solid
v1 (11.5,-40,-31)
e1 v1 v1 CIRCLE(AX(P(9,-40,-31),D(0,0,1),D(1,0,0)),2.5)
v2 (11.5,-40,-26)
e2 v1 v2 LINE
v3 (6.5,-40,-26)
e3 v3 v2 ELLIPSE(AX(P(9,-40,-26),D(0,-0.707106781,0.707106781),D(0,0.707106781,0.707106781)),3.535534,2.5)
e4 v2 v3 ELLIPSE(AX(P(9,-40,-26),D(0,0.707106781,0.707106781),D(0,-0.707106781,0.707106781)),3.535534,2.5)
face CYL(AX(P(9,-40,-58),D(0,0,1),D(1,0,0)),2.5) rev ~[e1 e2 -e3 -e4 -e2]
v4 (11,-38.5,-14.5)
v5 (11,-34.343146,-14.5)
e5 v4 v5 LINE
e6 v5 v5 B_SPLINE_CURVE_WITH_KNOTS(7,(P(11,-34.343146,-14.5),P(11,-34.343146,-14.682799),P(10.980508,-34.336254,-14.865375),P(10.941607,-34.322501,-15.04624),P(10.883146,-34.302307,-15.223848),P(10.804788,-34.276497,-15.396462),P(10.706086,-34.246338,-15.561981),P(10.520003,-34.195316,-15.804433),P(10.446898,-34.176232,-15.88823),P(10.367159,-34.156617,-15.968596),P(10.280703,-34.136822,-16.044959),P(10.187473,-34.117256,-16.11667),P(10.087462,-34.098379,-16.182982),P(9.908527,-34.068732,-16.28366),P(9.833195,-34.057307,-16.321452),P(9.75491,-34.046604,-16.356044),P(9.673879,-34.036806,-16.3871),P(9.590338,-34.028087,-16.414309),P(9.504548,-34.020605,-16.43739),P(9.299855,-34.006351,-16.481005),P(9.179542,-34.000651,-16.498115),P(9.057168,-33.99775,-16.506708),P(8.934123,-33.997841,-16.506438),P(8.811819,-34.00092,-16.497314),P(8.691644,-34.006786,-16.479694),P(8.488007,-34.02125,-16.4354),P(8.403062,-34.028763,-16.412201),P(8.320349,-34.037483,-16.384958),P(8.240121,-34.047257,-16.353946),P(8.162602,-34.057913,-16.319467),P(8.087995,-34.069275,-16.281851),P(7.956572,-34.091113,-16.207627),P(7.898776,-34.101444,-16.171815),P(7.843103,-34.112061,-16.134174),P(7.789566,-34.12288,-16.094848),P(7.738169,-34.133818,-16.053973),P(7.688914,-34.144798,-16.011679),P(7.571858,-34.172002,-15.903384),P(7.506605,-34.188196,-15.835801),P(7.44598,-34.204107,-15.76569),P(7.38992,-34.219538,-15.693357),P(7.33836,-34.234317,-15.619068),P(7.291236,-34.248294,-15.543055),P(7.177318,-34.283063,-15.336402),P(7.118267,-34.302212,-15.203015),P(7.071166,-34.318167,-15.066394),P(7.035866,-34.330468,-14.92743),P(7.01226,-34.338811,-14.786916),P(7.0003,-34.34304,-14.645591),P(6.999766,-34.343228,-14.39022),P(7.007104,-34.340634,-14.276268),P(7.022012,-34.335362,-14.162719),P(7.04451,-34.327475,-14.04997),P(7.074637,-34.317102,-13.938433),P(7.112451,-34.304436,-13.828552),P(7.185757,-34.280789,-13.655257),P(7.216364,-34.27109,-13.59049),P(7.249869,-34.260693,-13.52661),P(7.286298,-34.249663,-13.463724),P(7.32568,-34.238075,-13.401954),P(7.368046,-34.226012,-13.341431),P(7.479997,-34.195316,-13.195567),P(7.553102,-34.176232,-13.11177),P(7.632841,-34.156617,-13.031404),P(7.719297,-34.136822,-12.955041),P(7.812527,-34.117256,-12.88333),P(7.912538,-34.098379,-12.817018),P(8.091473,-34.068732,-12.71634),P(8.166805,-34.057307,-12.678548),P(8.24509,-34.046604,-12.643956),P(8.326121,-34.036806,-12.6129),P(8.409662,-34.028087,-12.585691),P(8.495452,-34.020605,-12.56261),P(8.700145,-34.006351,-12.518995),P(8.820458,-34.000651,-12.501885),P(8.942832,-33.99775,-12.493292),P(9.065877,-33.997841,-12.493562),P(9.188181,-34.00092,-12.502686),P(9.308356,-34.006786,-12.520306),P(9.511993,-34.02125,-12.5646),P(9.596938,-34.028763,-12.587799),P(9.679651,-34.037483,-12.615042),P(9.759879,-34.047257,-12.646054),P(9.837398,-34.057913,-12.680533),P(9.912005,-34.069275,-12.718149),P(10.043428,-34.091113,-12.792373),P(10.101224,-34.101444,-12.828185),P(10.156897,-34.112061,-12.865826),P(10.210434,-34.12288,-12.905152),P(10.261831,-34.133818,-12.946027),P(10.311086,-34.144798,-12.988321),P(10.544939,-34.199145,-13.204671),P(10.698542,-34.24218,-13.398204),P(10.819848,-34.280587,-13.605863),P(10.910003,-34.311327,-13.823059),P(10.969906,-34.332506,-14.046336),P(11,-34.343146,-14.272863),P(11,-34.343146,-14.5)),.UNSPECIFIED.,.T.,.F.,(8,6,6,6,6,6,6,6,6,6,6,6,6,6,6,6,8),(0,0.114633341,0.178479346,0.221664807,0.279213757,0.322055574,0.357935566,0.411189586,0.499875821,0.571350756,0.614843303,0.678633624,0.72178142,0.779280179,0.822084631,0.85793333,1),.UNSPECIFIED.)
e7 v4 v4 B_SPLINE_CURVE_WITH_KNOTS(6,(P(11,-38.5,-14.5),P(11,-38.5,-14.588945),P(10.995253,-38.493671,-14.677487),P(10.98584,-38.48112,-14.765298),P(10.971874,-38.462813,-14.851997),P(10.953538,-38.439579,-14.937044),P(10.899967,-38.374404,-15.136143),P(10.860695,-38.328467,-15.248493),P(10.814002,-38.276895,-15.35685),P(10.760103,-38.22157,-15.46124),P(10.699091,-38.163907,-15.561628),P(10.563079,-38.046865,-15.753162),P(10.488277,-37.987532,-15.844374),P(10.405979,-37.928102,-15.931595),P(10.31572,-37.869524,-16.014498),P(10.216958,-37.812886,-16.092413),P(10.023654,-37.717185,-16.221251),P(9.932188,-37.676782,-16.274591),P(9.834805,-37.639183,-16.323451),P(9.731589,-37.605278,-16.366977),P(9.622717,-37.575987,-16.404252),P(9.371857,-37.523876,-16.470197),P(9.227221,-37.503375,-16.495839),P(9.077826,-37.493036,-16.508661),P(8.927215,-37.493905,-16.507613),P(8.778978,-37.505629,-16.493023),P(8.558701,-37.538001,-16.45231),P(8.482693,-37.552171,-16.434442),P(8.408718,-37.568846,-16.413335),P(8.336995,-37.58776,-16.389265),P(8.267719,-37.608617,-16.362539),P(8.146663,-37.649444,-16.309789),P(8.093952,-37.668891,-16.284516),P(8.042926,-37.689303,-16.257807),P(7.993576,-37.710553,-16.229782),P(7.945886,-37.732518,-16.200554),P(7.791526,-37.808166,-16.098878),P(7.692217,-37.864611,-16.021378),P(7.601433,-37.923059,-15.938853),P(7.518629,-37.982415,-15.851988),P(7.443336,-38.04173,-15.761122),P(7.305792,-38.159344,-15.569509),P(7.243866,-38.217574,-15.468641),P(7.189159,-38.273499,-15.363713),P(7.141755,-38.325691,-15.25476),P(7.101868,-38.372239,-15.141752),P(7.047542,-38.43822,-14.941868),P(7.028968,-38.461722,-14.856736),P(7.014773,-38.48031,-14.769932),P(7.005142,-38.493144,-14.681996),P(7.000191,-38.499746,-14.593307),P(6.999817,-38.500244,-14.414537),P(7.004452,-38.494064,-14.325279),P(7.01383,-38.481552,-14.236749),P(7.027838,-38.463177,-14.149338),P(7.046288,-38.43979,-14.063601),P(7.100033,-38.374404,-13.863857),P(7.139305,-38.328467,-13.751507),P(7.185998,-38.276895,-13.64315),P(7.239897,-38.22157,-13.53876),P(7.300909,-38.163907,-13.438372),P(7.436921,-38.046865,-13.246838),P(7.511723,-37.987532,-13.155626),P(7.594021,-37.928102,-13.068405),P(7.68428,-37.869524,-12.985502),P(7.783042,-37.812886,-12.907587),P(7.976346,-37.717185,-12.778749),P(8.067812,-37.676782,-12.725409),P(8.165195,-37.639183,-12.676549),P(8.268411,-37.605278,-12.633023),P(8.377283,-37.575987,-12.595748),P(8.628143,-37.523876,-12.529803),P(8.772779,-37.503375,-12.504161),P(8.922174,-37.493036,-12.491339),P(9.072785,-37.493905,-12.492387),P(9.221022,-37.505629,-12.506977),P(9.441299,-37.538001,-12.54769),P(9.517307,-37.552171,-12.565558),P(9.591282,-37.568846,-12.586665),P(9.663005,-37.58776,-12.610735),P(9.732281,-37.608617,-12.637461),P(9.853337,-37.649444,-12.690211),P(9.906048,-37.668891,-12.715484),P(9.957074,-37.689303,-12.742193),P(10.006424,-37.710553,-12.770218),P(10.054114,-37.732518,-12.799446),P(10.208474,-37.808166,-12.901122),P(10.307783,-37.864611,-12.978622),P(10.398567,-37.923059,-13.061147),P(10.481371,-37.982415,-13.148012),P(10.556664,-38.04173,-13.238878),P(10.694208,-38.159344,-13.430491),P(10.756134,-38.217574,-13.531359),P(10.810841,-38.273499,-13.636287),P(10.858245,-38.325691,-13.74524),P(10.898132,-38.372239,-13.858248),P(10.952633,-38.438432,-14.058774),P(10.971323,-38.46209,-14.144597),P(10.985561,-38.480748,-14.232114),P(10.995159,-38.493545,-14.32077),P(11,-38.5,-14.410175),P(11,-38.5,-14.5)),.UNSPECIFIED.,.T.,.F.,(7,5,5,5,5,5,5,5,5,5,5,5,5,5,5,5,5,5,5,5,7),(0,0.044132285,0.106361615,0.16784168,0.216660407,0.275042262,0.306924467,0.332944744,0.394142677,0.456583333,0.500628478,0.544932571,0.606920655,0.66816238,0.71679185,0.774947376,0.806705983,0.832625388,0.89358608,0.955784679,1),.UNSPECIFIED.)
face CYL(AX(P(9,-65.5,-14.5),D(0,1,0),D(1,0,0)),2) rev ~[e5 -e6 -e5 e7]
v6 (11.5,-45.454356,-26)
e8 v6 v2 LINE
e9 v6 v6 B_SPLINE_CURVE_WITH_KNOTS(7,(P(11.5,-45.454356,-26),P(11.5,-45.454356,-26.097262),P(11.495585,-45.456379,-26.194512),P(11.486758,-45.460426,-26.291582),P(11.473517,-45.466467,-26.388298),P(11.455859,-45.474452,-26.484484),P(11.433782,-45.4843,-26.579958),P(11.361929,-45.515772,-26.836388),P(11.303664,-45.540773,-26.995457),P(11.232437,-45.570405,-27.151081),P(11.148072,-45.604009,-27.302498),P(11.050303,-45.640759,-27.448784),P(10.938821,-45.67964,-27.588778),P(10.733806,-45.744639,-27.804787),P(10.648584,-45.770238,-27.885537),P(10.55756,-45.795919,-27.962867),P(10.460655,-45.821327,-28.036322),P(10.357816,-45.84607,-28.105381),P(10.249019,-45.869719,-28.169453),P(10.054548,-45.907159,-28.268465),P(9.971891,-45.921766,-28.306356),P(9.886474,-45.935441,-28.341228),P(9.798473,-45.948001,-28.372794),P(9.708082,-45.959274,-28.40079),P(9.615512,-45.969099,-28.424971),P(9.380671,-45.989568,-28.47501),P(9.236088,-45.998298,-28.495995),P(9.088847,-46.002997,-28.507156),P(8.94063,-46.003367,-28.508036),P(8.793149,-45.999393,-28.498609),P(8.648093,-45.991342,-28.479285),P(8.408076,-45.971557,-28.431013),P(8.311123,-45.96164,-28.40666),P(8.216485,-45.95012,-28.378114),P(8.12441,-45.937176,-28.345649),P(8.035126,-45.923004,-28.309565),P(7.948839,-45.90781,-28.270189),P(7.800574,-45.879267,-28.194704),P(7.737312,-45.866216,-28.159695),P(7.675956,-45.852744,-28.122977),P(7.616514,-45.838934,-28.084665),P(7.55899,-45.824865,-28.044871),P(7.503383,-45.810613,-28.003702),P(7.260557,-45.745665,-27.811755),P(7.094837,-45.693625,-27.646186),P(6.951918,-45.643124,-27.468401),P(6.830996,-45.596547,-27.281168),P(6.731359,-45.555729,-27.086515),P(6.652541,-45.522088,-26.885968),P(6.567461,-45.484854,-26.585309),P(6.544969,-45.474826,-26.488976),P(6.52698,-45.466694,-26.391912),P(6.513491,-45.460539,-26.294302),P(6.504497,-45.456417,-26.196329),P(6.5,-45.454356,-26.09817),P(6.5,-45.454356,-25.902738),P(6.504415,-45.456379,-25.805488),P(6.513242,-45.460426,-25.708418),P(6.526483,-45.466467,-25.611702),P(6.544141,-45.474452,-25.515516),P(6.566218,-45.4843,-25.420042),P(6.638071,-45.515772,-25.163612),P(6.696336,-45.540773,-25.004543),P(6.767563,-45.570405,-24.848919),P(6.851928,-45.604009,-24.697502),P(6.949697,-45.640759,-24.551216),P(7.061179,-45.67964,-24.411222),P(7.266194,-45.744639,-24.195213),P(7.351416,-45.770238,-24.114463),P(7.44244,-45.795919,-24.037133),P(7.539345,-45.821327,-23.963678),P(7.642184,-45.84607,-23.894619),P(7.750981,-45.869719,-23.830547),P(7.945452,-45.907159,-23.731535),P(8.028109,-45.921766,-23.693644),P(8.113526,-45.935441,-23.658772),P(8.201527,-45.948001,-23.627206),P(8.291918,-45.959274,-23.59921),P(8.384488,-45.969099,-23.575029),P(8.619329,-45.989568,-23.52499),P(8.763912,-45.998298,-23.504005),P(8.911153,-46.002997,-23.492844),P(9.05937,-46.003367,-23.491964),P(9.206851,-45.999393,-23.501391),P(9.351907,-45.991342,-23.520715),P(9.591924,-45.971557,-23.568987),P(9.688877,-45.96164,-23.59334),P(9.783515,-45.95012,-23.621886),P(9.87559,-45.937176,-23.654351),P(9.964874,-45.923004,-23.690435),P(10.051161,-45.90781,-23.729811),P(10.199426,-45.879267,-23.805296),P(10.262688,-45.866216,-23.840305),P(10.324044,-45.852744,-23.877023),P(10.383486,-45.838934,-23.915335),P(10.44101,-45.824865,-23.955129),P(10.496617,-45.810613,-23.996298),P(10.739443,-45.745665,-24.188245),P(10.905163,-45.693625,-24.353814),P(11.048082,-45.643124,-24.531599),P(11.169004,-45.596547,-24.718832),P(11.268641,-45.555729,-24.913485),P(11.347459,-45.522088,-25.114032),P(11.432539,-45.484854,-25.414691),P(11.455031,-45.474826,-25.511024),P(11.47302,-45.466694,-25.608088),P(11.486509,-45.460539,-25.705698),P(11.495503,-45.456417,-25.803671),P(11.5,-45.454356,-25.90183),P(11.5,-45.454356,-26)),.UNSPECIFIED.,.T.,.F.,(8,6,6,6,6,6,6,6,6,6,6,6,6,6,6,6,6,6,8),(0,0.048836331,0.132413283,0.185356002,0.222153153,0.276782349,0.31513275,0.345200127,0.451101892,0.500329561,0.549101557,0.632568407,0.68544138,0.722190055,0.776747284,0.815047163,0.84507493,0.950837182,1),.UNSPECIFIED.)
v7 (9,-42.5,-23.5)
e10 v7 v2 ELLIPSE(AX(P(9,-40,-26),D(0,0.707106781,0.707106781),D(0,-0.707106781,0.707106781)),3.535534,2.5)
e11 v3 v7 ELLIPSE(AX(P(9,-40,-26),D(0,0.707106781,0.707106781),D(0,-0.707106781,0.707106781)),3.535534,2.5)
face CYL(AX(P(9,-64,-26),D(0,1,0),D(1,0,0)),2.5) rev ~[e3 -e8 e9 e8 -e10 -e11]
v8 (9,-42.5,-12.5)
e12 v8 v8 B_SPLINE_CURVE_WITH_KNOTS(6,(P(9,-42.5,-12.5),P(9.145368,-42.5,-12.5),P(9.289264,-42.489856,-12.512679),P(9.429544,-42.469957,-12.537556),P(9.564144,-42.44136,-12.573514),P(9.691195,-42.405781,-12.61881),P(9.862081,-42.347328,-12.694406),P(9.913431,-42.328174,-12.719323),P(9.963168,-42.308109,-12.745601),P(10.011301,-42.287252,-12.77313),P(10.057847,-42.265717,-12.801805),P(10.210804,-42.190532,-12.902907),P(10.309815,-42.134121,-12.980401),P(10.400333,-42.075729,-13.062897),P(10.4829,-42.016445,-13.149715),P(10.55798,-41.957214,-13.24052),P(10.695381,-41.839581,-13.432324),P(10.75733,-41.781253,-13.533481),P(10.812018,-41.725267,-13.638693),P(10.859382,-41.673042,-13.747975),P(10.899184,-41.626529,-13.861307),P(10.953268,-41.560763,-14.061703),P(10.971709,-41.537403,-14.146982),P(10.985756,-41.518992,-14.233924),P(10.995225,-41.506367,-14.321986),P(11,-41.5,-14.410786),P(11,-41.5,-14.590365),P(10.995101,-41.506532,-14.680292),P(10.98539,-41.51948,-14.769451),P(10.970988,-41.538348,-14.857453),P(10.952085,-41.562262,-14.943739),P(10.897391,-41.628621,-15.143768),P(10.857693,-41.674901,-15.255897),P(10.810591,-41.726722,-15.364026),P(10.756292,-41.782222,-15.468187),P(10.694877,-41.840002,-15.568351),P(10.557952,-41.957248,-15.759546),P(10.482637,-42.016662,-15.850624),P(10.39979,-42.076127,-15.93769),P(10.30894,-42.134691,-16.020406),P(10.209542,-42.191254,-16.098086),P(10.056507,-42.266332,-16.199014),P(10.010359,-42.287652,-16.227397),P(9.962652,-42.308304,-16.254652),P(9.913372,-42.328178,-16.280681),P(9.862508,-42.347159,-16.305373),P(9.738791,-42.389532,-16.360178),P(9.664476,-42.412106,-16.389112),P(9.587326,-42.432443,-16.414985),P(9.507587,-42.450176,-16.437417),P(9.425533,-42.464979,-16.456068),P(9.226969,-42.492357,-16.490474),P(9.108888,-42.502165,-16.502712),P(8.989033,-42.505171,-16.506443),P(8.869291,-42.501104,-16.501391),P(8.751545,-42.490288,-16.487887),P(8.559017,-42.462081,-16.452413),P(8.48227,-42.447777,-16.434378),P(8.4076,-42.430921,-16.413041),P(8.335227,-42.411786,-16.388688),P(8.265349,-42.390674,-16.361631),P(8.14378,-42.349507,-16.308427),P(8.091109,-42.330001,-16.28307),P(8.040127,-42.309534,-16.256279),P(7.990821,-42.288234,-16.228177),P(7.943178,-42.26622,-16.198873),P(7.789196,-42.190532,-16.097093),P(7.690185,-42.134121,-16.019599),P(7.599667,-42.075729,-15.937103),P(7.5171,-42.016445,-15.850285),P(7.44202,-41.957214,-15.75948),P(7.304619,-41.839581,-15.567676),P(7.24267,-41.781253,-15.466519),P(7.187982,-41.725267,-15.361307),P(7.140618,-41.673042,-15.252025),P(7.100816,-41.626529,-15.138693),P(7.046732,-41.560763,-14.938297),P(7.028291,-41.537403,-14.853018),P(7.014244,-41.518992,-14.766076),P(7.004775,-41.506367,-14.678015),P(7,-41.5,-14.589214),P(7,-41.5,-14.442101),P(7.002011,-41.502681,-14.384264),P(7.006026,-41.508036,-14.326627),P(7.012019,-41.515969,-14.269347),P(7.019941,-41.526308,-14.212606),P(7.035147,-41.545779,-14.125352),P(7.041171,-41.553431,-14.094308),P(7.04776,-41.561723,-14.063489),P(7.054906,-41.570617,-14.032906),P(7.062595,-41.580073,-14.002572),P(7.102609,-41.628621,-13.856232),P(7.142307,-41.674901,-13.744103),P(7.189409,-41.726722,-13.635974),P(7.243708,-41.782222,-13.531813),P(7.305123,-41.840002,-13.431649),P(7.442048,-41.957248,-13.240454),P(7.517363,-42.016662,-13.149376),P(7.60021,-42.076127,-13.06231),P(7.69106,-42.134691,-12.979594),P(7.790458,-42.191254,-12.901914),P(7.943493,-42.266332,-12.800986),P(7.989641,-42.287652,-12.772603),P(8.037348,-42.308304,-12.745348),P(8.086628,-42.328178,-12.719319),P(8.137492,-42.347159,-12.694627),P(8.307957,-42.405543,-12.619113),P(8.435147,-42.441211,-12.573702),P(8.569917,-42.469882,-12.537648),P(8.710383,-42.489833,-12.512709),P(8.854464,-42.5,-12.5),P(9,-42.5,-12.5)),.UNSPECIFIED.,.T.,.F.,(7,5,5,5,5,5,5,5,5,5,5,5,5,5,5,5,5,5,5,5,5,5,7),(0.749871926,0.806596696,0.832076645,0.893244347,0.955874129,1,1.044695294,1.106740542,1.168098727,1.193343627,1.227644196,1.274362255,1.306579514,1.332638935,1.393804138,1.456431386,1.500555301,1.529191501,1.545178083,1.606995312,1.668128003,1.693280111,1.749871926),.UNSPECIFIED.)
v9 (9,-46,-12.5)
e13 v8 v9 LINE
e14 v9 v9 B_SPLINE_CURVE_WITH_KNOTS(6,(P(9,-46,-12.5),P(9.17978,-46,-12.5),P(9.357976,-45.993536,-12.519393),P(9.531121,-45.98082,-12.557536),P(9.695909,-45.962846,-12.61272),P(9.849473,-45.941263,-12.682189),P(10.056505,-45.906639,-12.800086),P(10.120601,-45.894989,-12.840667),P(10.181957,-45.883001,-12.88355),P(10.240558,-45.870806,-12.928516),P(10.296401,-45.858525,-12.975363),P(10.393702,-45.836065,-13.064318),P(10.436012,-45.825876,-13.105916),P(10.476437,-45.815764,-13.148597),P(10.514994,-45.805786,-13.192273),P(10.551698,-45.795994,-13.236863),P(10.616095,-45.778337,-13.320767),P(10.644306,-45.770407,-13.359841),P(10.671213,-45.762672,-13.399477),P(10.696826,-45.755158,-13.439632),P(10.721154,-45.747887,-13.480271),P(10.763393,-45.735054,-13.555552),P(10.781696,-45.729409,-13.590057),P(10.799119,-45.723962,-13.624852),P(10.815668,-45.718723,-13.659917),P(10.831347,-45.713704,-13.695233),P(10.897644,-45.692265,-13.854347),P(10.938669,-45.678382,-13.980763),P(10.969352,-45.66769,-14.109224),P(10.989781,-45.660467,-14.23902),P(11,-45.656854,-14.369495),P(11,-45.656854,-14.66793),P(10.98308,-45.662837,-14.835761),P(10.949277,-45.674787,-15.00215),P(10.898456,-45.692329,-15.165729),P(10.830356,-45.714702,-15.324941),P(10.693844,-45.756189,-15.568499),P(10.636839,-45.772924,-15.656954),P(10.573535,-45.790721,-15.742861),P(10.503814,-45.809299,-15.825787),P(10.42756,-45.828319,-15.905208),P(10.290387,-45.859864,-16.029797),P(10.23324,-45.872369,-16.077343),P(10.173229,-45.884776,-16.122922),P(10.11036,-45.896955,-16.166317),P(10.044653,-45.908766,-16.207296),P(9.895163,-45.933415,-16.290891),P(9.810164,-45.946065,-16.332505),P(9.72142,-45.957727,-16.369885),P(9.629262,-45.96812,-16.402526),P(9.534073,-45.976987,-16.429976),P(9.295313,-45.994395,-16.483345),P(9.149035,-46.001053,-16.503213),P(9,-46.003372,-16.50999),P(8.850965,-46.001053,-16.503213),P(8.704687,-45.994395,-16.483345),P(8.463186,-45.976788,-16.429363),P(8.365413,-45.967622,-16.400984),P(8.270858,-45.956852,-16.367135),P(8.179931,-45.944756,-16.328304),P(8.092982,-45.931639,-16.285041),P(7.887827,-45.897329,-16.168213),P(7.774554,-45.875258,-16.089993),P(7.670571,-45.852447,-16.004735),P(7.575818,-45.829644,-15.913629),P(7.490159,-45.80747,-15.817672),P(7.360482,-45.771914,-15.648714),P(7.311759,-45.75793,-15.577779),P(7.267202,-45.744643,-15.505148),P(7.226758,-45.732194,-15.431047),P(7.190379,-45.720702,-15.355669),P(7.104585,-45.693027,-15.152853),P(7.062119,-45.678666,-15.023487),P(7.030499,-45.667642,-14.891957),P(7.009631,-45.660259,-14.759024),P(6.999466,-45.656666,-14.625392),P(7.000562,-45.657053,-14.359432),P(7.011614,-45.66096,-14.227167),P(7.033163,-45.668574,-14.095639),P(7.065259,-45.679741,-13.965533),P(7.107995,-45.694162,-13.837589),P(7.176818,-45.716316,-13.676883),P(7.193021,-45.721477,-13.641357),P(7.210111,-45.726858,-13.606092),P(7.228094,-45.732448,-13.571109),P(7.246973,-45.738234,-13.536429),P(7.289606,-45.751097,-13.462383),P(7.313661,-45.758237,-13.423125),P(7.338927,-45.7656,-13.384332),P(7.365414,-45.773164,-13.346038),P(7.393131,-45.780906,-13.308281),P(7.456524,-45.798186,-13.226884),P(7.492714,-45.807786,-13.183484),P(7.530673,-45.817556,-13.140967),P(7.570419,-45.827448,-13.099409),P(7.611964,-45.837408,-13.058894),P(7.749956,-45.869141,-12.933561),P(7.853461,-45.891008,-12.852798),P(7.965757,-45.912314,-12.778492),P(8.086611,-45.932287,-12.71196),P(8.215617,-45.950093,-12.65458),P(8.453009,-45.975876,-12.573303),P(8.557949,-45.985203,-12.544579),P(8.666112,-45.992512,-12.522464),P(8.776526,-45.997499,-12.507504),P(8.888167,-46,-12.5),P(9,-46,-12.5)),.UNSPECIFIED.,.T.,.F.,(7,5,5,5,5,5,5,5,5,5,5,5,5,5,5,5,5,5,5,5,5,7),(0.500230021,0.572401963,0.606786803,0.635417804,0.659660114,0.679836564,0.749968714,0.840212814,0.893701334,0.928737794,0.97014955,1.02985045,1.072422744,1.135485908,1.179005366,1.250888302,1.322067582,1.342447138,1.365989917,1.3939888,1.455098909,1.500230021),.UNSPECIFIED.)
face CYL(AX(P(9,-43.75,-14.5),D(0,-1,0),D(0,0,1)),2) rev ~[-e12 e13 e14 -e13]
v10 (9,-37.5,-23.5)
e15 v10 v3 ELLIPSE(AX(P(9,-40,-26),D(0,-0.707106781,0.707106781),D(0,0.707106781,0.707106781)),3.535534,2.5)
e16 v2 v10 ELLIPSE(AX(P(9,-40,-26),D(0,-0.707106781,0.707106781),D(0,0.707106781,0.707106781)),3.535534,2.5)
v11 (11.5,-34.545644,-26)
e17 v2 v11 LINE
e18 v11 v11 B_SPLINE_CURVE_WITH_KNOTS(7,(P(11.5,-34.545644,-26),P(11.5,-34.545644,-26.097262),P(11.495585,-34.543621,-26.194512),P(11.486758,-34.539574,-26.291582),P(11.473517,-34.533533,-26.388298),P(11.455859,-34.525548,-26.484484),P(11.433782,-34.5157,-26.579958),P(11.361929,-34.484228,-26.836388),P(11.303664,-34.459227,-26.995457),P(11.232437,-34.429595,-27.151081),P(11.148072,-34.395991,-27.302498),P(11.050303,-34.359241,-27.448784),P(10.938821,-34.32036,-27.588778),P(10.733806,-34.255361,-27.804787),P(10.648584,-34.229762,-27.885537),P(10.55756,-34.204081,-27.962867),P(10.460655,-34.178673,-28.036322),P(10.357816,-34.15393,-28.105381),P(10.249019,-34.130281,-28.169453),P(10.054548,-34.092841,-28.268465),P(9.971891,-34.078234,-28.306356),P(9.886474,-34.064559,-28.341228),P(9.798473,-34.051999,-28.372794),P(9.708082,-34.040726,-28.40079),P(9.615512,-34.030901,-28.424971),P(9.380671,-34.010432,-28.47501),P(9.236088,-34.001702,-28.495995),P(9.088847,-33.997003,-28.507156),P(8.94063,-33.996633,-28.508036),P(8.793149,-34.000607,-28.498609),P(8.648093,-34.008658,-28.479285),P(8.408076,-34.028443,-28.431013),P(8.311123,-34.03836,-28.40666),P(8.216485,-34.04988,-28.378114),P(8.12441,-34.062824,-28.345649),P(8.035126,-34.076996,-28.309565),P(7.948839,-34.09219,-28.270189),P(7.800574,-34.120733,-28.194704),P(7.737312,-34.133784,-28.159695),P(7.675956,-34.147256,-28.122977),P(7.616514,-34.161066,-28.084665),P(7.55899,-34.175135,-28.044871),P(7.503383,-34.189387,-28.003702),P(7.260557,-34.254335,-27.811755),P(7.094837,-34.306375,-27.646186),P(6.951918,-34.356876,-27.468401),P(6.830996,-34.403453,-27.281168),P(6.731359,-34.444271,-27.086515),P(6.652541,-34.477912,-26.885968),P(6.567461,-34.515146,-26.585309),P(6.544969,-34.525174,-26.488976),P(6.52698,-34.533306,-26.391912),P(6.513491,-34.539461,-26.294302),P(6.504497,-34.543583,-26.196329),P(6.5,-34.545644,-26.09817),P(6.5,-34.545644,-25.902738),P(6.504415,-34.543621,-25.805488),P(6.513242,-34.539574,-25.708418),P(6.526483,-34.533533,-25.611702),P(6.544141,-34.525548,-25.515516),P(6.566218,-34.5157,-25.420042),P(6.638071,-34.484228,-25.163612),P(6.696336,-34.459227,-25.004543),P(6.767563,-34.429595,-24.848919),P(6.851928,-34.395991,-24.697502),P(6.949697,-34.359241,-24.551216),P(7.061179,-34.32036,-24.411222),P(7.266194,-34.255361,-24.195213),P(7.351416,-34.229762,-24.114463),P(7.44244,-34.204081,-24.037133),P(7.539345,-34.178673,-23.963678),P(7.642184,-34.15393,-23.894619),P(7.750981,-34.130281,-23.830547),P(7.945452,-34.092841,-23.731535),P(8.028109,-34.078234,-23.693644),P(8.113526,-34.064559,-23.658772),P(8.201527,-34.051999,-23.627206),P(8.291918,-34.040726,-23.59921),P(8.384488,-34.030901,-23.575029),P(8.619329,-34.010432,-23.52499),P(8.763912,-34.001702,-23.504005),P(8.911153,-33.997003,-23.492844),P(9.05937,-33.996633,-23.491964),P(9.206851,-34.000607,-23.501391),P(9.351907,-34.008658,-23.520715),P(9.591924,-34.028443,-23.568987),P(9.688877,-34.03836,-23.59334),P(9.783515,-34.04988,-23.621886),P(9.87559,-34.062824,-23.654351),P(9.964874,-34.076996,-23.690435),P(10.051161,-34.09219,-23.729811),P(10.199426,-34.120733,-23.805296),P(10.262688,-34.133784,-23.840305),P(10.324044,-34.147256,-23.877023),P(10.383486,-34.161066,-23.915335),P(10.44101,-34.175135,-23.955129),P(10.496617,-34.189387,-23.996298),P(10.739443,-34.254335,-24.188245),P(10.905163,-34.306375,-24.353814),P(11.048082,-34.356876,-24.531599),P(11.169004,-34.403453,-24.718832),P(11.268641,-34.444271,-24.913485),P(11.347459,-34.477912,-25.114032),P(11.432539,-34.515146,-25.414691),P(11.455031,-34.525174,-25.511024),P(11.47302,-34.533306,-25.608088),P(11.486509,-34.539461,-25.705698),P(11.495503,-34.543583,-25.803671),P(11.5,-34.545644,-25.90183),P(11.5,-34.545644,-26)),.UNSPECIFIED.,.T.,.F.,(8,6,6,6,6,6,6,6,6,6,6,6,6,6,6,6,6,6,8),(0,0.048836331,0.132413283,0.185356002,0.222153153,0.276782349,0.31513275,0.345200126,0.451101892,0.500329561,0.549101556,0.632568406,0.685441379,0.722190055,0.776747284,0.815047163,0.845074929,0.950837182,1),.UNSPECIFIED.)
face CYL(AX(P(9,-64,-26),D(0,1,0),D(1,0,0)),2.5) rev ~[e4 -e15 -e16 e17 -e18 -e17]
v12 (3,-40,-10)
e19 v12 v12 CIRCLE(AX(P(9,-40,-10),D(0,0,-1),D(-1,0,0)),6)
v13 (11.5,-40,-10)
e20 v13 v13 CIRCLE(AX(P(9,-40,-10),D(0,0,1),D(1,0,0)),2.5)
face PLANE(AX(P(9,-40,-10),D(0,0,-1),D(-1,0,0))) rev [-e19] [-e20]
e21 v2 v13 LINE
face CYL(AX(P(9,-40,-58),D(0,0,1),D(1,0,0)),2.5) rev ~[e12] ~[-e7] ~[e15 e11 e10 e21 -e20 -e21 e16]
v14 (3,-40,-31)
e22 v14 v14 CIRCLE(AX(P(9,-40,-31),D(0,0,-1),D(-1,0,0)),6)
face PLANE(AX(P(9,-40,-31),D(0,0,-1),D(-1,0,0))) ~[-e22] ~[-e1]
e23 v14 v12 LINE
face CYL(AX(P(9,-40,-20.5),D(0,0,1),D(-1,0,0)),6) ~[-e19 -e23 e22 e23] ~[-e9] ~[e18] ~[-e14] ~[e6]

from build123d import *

# Parameters (mm, degrees)
SKETCH_1_W                = 6
SKETCH_1_H                = 21
HOLE_WIZARD_5_0_5_1_D     = 5
HOLE_WIZARD_5_0_5_2_D     = 5
HOLE_WIZARD_5_0_5_2_DEPTH = 18
SKETCH_5_W                = 2
SKETCH_5_H                = 4.5
HOLE_WIZARD_4_0_4_2_D     = 4


with BuildPart() as part:
    # 草图1 → 旋转1 (revolve)
    with BuildSketch(Plane.XZ.offset(40), mode=Mode.PRIVATE) as revolve_1_sk:
        with Locations((12, -20.5)):
            Rectangle(SKETCH_1_W, SKETCH_1_H)
    revolve(revolve_1_sk.sketch.rotate(Axis((9, -40, -10), (0, 0, -1)), 180), axis=Axis((9, -40, -10), (0, 0, -1)))

    # Ø5.0 (5) 直径孔1 (through all)
    with Locations(Plane(origin=(0, 0, -31), x_dir=(-1, 0, 0), z_dir=(0, 0, -1))):
        with Locations((-9, -40)):
            Hole(HOLE_WIZARD_5_0_5_1_D / 2)

    # Ø5.0 (5) 直径孔2
    with Locations(Plane(origin=(9, -46, -26), x_dir=(-1, 0, 0), z_dir=(0, -1, 0))):
        with Locations((0, 0)):
            Hole(HOLE_WIZARD_5_0_5_2_D / 2, depth=HOLE_WIZARD_5_0_5_2_DEPTH)

    # 草图5 → Ø4.0 (4) 直径孔1 (revolve, cut)
    with BuildSketch(Plane(origin=(9, -41.5, -14.5), x_dir=(0, 0, 1), z_dir=(1, 0, 0))):
        with Locations((1, 2.25)):
            Rectangle(SKETCH_5_W, SKETCH_5_H)
    revolve(axis=Axis((9, -35.15, -14.5), (0, -1, 0)), mode=Mode.SUBTRACT)

    # Ø4.0 (4) 直径孔2 (through all)
    with Locations(Plane(origin=(0, -38.5, 0), x_dir=(-1, 0, 0), z_dir=(0, -1, 0))):
        with Locations((-9, 14.5)):
            Hole(HOLE_WIZARD_4_0_4_2_D / 2)


solid = part.part
